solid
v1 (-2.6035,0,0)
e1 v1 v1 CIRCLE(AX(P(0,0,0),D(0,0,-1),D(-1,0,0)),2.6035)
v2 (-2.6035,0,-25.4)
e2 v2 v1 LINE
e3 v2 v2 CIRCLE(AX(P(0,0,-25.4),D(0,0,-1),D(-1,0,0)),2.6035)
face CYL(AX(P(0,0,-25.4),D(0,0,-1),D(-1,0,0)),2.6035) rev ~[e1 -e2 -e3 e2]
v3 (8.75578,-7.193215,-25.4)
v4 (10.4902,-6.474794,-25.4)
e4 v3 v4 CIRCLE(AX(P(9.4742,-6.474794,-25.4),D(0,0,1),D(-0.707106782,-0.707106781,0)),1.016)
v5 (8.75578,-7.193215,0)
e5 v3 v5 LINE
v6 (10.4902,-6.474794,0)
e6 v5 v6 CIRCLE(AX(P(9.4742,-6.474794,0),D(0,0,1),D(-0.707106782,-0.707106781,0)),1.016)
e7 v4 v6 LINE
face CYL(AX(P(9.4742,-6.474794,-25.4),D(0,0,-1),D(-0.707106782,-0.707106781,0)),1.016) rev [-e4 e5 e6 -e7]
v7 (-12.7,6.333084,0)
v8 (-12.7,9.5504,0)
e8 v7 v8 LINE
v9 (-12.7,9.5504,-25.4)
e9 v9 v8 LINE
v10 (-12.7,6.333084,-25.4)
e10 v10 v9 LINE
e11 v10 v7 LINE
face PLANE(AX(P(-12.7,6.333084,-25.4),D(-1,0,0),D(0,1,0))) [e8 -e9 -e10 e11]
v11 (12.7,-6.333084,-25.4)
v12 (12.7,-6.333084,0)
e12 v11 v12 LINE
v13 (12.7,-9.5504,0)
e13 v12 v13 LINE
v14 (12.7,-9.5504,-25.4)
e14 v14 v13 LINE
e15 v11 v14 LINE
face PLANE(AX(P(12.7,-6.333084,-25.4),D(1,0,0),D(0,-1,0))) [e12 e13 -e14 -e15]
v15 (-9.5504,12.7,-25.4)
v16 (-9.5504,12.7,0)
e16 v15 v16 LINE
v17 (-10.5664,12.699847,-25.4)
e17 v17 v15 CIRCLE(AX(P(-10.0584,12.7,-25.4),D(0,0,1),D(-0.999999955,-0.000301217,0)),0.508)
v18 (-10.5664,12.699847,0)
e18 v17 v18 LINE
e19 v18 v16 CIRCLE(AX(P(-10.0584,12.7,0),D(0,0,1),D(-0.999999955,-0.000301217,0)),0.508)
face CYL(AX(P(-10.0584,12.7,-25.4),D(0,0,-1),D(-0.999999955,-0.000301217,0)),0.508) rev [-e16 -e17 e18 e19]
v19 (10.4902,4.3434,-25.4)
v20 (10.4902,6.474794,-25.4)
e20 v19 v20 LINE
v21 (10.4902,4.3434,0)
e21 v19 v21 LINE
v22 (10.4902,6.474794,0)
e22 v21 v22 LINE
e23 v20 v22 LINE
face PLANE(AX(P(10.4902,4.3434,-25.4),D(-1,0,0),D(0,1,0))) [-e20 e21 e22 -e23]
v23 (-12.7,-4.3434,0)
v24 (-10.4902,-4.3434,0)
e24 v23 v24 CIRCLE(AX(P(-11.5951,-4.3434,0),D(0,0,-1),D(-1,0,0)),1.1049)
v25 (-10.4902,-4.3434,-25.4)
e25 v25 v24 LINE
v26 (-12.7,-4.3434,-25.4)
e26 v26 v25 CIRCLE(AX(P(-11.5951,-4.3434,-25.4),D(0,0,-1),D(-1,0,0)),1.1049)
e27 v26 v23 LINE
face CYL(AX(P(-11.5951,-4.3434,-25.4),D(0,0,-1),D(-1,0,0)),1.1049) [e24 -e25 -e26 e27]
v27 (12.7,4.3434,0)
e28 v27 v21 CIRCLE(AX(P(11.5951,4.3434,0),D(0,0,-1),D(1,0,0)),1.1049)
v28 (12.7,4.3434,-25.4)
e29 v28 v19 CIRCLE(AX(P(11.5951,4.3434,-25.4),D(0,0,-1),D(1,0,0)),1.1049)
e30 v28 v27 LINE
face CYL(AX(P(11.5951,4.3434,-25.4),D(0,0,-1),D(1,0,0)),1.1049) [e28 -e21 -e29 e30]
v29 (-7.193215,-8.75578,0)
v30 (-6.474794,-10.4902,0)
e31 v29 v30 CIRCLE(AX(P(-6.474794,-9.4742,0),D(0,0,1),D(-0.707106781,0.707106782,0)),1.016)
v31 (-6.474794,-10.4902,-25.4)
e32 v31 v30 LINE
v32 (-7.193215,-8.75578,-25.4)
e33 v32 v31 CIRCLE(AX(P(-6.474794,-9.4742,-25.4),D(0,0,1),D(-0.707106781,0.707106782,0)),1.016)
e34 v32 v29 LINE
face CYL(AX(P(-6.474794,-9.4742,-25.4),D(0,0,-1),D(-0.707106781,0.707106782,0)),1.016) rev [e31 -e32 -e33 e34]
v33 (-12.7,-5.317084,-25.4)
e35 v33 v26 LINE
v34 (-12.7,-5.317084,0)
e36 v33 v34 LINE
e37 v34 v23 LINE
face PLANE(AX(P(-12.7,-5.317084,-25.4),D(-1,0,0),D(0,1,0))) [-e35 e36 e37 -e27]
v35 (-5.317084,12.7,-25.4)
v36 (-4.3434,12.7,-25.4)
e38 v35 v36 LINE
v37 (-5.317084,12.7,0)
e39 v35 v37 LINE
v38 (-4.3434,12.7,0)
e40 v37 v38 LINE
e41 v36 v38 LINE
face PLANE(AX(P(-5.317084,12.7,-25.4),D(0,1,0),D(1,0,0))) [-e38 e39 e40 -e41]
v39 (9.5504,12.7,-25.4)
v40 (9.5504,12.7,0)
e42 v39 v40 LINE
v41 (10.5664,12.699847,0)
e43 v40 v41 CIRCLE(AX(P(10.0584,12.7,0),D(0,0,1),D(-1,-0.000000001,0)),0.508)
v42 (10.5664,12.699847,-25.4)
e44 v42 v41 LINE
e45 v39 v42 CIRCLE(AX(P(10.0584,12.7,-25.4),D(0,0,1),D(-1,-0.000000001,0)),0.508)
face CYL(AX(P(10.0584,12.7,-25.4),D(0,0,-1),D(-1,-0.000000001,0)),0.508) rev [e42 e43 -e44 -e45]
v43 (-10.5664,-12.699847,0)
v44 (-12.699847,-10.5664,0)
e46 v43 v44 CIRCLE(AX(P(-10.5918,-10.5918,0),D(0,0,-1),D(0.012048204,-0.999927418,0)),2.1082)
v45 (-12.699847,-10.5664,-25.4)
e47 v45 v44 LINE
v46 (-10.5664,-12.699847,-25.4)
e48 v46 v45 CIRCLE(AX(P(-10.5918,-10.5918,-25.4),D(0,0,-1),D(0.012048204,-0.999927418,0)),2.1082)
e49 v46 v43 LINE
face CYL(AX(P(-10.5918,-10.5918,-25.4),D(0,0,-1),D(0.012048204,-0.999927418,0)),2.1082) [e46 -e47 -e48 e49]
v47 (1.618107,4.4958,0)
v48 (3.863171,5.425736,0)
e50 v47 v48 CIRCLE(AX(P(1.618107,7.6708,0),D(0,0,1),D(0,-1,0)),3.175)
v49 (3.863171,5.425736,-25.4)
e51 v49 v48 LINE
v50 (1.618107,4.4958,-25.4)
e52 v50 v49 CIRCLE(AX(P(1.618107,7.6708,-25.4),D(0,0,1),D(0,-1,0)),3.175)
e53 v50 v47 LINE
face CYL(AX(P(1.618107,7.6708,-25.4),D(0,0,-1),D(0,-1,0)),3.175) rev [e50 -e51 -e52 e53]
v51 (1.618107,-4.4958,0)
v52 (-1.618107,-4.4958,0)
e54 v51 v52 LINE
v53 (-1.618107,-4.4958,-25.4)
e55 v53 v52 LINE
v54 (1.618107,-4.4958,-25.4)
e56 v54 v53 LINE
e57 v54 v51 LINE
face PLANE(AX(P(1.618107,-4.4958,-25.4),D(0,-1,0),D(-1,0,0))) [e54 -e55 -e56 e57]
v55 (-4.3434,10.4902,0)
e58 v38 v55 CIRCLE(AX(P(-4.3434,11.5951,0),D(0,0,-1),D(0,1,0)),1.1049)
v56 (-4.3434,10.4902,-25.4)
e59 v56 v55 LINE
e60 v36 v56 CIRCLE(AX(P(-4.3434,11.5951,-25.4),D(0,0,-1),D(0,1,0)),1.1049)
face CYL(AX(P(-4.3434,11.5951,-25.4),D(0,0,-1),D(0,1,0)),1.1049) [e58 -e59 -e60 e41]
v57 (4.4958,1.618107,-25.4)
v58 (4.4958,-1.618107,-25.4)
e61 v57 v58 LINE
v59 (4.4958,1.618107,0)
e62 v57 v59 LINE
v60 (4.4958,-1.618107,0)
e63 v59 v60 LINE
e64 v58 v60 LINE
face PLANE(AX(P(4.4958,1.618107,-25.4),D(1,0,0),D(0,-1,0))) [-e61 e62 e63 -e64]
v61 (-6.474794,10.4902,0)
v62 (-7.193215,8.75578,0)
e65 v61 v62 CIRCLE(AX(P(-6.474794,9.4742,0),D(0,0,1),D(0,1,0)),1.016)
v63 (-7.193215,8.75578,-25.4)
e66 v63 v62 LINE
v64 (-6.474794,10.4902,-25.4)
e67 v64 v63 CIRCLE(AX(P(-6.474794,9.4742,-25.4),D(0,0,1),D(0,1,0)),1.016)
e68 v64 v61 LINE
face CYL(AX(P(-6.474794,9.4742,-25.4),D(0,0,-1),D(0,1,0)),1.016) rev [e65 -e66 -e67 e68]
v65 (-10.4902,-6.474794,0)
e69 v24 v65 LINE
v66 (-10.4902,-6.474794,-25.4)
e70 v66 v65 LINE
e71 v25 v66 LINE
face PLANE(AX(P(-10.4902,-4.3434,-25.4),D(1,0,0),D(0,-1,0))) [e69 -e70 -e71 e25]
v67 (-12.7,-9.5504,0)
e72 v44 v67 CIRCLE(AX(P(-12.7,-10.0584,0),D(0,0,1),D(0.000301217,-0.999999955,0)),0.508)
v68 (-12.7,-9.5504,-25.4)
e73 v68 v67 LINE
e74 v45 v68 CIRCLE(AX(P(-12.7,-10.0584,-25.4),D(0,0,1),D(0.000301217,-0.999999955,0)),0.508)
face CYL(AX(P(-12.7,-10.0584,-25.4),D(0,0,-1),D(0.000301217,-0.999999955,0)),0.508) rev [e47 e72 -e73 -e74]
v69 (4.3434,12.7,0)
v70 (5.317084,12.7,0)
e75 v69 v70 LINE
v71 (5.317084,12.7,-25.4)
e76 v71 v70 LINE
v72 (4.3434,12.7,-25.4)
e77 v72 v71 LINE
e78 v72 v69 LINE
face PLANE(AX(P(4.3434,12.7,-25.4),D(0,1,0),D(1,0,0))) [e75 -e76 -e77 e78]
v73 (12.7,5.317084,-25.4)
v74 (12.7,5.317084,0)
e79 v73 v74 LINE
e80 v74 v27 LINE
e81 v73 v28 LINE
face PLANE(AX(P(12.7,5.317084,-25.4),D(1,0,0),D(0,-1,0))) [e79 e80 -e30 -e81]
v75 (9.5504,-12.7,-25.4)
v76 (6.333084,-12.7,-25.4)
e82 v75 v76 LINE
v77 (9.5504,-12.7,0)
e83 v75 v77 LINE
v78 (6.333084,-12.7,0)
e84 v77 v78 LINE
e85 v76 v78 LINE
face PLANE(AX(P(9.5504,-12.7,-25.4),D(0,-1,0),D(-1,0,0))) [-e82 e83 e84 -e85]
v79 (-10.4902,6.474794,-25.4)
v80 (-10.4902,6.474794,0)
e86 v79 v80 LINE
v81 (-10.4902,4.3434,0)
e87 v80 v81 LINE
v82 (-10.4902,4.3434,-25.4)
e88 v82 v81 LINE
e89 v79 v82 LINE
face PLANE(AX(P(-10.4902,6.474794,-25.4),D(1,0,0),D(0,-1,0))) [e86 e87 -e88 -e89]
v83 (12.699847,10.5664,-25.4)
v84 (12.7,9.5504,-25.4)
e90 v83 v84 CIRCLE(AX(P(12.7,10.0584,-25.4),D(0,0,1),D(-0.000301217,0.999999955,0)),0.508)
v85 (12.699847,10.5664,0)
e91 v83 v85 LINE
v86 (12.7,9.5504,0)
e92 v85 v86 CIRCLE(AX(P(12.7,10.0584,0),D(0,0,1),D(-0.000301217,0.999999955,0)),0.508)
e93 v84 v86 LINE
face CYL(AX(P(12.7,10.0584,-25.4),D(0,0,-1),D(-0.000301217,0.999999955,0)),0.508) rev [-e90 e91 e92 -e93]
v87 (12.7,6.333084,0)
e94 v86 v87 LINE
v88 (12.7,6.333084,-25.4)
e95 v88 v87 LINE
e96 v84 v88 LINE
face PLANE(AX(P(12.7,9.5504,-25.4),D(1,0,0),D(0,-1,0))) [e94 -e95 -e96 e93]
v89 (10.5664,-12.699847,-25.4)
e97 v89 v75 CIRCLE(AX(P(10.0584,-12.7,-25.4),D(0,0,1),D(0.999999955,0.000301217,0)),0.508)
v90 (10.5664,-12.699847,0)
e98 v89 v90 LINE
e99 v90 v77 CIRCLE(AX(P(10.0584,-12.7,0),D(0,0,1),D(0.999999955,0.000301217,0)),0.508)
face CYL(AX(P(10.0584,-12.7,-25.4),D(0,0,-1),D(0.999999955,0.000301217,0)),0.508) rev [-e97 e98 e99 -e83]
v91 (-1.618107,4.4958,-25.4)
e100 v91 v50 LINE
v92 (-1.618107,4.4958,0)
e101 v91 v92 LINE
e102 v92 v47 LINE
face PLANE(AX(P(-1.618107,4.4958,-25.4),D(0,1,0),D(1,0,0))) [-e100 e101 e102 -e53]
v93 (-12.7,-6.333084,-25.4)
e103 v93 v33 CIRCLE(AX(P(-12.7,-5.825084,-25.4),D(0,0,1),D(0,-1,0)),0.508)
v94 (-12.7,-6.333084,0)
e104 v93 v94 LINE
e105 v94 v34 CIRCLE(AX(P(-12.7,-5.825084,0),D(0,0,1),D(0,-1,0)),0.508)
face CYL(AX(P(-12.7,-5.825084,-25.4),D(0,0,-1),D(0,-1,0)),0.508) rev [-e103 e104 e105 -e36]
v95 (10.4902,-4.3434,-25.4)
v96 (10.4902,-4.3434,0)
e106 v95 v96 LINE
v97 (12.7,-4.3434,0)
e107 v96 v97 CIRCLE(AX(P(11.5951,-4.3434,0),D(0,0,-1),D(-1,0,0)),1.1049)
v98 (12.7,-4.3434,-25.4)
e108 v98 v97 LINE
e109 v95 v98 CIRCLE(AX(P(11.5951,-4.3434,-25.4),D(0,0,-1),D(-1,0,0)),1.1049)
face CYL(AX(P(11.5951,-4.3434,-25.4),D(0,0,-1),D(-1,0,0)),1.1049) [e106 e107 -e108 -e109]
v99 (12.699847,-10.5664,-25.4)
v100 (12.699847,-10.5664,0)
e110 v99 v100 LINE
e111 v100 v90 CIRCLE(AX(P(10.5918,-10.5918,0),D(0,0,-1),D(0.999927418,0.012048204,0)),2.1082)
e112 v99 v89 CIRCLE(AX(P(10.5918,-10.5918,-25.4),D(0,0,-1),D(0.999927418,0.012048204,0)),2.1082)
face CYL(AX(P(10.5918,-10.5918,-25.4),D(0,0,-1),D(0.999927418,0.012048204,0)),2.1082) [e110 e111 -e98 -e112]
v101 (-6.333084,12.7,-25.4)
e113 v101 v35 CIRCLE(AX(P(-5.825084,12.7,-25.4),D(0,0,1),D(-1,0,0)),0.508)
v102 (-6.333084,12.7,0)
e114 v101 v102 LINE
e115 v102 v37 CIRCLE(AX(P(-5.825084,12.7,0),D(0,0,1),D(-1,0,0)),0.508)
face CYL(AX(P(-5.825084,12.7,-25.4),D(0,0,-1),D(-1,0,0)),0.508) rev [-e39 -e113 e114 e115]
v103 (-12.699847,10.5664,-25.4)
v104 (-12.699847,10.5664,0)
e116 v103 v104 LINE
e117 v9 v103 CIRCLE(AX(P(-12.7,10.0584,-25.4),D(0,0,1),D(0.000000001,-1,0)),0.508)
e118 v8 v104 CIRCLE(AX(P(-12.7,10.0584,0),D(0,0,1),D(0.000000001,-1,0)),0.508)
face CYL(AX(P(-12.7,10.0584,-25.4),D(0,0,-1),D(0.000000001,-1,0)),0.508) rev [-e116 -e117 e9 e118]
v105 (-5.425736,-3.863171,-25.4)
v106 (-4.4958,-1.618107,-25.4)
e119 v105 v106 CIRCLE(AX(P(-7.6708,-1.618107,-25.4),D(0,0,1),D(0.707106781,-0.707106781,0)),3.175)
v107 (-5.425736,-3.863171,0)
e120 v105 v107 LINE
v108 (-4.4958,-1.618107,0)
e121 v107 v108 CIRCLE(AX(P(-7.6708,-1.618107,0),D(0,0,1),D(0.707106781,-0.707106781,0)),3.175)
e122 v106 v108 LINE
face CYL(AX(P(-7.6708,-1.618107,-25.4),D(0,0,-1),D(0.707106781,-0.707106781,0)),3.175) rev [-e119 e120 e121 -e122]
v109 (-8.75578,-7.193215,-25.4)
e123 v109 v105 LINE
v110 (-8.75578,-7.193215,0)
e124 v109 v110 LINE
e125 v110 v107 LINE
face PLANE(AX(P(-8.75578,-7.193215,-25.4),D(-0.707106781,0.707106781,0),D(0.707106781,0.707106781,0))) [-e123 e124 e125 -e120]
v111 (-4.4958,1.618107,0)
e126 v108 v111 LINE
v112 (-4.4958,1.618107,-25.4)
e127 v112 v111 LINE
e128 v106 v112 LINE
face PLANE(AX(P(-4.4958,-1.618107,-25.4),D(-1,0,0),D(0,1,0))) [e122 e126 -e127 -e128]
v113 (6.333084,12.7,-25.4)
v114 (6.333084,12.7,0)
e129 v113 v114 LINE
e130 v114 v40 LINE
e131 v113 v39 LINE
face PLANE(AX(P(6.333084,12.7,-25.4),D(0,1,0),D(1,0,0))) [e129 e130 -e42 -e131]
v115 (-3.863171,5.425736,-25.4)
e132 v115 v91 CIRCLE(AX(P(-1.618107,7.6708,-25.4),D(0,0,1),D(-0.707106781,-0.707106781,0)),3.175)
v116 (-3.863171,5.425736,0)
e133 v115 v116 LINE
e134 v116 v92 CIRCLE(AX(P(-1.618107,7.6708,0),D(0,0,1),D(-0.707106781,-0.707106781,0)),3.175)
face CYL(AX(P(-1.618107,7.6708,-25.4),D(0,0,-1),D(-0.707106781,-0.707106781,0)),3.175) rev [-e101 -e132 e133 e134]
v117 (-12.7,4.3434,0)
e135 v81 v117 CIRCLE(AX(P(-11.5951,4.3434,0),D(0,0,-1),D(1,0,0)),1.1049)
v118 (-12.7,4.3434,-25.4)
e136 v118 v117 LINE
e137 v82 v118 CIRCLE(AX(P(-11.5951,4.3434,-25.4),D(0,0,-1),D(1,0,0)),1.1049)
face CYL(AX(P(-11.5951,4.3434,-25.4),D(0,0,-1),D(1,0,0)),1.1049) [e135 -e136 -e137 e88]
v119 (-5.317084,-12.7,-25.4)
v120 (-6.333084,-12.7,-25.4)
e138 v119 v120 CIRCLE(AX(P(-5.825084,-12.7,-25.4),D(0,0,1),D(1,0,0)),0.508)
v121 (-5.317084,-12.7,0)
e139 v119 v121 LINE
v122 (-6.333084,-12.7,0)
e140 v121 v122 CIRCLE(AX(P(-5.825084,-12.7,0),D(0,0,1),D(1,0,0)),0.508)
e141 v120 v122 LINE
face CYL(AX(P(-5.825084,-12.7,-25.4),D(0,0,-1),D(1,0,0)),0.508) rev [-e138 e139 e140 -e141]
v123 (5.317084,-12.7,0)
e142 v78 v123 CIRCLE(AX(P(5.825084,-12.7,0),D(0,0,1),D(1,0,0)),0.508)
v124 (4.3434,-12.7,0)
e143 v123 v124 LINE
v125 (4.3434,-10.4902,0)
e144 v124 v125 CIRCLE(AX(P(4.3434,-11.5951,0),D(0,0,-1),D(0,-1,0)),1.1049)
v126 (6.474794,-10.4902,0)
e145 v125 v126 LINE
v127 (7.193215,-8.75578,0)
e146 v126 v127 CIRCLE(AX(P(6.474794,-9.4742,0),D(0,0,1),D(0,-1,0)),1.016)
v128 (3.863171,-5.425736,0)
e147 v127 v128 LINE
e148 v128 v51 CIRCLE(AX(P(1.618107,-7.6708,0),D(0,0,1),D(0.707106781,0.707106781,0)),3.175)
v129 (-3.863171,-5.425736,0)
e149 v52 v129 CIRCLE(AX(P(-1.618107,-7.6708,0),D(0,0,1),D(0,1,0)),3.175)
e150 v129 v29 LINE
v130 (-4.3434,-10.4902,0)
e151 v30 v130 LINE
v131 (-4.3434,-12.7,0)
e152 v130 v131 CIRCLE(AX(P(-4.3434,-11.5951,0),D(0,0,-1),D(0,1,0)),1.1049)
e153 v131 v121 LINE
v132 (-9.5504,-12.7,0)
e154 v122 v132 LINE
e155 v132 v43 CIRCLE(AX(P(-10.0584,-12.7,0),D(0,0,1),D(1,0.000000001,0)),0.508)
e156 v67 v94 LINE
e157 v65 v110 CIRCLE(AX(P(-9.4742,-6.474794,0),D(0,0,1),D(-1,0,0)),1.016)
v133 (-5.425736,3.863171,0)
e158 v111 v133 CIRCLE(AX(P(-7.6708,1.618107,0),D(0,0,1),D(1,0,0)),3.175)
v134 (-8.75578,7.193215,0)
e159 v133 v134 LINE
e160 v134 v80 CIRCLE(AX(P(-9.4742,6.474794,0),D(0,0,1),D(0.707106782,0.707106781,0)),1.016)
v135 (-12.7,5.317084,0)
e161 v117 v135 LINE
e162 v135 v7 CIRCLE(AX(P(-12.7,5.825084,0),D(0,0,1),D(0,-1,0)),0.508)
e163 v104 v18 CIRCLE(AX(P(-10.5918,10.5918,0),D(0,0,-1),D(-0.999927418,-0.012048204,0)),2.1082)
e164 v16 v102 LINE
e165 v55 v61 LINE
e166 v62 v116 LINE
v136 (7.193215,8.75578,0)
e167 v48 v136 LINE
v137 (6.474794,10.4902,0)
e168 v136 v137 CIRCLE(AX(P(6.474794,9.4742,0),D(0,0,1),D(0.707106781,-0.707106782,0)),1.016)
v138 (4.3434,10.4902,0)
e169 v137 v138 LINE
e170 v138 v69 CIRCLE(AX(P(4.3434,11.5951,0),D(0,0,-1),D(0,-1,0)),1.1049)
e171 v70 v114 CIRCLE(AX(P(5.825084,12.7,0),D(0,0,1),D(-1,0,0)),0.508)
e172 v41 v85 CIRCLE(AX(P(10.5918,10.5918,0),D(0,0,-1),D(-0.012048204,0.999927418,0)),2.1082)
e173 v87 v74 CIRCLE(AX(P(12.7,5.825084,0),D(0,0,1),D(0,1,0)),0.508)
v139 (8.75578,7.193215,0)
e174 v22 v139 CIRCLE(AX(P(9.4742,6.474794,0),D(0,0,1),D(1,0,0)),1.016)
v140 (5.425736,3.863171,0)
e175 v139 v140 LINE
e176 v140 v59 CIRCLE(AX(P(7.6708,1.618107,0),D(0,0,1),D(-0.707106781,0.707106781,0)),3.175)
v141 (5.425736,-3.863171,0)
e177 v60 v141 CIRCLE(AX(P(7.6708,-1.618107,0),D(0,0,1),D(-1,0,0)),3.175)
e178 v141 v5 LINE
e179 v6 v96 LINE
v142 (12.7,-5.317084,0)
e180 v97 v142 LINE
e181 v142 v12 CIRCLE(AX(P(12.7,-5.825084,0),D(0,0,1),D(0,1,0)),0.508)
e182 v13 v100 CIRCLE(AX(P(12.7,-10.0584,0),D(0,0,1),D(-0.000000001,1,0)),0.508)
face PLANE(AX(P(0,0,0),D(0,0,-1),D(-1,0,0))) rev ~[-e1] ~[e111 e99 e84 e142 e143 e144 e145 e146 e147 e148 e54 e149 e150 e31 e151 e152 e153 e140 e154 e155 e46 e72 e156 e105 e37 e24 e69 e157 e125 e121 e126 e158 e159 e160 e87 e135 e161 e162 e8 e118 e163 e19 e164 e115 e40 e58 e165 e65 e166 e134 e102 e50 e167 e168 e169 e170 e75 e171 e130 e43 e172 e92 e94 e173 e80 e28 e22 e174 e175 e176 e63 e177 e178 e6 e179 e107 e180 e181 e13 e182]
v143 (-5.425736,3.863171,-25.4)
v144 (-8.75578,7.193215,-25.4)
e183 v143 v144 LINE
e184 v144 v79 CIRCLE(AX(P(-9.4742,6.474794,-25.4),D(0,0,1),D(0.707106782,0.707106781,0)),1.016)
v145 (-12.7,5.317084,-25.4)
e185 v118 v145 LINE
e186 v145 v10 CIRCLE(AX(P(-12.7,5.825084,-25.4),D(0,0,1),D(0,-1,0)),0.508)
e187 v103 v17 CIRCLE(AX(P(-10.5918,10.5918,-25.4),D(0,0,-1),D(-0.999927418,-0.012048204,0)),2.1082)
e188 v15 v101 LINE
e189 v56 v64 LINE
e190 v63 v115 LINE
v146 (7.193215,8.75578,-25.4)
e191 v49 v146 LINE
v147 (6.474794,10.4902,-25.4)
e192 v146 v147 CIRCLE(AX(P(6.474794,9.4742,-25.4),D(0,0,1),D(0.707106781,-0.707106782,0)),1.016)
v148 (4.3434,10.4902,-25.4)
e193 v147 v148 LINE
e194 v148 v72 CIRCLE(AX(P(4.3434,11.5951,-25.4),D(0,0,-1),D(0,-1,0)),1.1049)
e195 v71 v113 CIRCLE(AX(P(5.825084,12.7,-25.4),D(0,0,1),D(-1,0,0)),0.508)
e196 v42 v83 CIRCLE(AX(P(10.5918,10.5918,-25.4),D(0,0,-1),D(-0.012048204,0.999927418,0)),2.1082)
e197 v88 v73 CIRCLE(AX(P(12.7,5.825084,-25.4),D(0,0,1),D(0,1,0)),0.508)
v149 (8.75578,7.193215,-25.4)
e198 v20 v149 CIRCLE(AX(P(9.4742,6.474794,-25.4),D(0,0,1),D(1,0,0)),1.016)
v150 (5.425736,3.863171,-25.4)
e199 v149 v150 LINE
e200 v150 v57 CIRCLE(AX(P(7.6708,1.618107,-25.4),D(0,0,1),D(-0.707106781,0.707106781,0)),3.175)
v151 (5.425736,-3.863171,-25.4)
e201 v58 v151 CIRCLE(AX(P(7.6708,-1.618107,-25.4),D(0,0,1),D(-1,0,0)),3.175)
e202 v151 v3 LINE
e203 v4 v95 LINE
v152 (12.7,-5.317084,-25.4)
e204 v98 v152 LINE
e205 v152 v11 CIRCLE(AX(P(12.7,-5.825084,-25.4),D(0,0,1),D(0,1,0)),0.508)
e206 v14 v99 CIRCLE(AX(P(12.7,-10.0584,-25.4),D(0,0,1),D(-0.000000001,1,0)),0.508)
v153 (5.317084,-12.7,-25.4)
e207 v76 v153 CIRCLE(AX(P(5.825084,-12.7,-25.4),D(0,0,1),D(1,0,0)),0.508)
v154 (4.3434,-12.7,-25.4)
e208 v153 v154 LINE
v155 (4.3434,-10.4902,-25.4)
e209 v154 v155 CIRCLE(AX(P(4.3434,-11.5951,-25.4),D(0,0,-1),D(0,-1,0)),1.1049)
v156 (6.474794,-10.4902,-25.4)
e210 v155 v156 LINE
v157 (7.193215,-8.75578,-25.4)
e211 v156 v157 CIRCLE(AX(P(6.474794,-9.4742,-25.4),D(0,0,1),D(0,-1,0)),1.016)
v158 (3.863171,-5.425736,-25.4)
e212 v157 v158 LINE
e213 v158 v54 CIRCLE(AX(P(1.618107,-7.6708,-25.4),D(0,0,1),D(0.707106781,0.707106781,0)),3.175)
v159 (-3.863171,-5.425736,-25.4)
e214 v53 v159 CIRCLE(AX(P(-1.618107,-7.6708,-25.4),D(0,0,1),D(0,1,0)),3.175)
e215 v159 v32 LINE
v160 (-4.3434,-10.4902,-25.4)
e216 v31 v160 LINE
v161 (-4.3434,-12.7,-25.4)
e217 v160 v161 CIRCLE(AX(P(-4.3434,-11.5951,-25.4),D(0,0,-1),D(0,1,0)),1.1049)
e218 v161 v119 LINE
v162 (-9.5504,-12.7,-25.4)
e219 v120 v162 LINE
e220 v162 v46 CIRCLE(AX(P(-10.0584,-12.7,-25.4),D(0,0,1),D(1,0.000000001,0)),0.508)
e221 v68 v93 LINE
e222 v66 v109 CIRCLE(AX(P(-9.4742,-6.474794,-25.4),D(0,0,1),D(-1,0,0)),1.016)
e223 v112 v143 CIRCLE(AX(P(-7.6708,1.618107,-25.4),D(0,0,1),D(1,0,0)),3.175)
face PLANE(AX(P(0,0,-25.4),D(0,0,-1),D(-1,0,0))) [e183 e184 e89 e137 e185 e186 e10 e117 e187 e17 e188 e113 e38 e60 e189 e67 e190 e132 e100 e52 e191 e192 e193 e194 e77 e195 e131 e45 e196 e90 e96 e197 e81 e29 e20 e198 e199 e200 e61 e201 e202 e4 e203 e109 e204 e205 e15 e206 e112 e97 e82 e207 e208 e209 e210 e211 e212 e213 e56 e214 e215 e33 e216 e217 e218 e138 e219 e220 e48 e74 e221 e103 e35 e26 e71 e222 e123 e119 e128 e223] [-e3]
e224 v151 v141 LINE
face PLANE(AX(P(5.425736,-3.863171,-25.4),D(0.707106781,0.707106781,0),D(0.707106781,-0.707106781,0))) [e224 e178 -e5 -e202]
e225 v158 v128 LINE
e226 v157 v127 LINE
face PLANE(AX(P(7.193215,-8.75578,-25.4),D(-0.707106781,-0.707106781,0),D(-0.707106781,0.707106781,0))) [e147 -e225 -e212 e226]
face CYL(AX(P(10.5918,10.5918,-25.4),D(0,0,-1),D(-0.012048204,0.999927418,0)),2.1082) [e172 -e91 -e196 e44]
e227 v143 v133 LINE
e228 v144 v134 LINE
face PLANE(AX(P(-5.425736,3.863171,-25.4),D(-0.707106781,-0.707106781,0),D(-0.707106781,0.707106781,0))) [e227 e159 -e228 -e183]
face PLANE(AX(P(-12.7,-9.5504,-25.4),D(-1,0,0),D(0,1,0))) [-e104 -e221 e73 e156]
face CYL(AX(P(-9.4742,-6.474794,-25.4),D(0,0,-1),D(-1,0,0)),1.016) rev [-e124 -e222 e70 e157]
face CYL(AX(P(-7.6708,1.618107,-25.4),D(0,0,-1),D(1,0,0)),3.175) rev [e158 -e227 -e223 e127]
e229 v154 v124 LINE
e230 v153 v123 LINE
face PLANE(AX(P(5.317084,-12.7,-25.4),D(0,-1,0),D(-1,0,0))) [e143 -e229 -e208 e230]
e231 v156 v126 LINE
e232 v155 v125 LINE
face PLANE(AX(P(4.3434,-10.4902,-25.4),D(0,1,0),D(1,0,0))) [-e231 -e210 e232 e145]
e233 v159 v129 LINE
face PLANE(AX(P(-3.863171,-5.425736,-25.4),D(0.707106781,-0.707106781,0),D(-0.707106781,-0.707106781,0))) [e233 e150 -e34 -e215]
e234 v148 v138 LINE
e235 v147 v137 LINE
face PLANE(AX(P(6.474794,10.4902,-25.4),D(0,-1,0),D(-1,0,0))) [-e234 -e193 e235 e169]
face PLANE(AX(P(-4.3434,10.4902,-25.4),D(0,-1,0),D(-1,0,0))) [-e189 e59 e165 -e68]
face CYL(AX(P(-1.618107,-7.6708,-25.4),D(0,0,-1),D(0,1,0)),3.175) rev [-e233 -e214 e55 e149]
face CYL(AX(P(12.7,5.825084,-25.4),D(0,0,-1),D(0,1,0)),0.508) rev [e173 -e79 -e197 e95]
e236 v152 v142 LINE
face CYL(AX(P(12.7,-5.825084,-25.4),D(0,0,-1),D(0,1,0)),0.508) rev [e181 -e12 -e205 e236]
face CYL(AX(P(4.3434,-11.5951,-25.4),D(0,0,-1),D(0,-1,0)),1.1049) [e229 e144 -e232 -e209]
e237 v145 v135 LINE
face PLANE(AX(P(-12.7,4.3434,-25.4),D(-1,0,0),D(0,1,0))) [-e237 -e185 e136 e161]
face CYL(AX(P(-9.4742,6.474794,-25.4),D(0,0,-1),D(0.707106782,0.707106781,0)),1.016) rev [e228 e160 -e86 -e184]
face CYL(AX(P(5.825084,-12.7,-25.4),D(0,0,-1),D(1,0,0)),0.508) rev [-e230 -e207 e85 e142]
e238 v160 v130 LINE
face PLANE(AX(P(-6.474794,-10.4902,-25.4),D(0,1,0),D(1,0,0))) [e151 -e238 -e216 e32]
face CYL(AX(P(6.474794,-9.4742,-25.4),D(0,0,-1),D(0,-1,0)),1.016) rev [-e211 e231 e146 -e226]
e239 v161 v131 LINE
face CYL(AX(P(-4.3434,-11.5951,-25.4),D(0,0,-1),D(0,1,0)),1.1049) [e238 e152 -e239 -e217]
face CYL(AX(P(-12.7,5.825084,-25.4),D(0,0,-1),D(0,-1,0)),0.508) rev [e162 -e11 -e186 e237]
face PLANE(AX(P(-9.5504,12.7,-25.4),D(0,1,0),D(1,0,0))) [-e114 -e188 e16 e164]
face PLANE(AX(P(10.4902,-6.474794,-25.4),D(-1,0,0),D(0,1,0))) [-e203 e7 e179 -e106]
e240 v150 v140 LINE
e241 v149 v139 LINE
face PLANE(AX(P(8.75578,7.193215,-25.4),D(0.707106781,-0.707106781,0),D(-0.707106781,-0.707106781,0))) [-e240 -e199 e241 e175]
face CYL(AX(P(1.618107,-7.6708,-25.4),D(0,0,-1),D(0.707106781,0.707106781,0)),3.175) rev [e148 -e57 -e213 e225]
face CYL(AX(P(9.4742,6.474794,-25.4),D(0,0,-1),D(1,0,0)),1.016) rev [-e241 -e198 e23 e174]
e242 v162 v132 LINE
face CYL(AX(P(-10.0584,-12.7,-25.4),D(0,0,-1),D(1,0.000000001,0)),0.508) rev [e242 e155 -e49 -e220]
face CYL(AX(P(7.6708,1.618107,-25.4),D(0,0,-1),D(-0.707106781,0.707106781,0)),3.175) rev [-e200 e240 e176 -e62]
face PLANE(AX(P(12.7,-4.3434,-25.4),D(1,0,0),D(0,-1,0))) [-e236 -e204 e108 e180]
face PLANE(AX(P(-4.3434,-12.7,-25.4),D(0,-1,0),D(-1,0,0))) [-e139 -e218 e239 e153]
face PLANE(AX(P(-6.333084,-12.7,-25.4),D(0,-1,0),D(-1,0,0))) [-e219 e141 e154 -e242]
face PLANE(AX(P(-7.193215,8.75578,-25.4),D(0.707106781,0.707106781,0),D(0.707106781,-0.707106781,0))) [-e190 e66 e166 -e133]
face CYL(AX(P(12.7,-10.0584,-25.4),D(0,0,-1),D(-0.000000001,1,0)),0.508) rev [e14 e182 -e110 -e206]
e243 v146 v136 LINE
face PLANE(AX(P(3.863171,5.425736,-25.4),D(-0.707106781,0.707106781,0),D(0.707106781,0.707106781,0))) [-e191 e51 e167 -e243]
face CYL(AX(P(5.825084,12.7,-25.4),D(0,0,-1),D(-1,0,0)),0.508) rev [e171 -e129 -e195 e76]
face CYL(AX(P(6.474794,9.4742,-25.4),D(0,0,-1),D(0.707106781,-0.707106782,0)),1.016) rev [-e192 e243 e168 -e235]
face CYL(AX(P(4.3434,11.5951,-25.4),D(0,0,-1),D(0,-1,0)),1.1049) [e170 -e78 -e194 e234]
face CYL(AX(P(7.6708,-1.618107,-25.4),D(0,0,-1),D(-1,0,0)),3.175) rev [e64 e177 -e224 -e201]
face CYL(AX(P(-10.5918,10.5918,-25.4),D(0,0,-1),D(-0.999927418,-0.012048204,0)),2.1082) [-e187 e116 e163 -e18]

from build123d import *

# Parameters (mm, degrees)
SKETCH1_R           = 2.6035
BOSS_EXTRUDE1_DEPTH = 25.4


with BuildPart() as part:
    # Sketch1 → Boss-Extrude1 (new body)
    with BuildSketch(Plane(origin=(0, 0, -25.4), x_dir=(-1, 0, 0), z_dir=(0, 0, -1))):
        with BuildLine():
            Line((12.7, -9.5504), (12.7, -6.3330836))
            ThreePointArc((12.7, -6.3330836), (12.192, -5.8250836), (12.7, -5.3170836))
            Line((12.7, -5.3170836), (12.7, -4.3434))
            ThreePointArc((12.7, -4.3434), (11.5951, -3.2385), (10.4902, -4.3434))
            Line((10.4902, -4.3434), (10.4902, -6.474794456))
            ThreePointArc((10.4902, -6.474794456), (9.863006367, -7.413456061), (8.75577951, -7.193214945))
            Line((8.75577951, -7.193214945), (5.42573597, -3.863171405))
            ThreePointArc((5.42573597, -3.863171405), (4.737482484, -2.833127272), (4.4958, -1.618107374))
            Line((4.4958, -1.618107374), (4.4958, 1.618107374))
            ThreePointArc((4.4958, 1.618107374), (4.737482484, 2.833127272), (5.42573597, 3.863171405))
            Line((5.42573597, 3.863171405), (8.75577951, 7.193214945))
            ThreePointArc((8.75577951, 7.193214945), (9.863006367, 7.413456061), (10.4902, 6.474794456))
            Line((10.4902, 6.474794456), (10.4902, 4.343399971))
            ThreePointArc((10.4902, 4.343399971), (11.5951, 3.238499971), (12.7, 4.343399971))
            Line((12.7, 4.343399971), (12.7, 5.3170836))
            ThreePointArc((12.7, 5.3170836), (12.192, 5.8250836), (12.7, 6.3330836))
            Line((12.7, 6.3330836), (12.7, 9.5504))
            ThreePointArc((12.7, 9.5504), (12.192000006, 10.058323491), (12.699846982, 10.566399977))
            ThreePointArc((12.699846982, 10.566399977), (12.082522516, 12.082522516), (10.566399977, 12.699846982))
            ThreePointArc((10.566399977, 12.699846982), (10.058323491, 12.192000006), (9.5504, 12.7))
            Line((9.5504, 12.7), (6.3330836, 12.7))
            ThreePointArc((6.3330836, 12.7), (5.8250836, 12.192), (5.3170836, 12.7))
            Line((5.3170836, 12.7), (4.3434, 12.7))
            ThreePointArc((4.3434, 12.7), (3.2385, 11.5951), (4.3434, 10.4902))
            Line((4.3434, 10.4902), (6.474794456, 10.4902))
            ThreePointArc((6.474794456, 10.4902), (7.413456061, 9.863006367), (7.193214945, 8.75577951))
            Line((7.193214945, 8.75577951), (3.863171405, 5.42573597))
            ThreePointArc((3.863171405, 5.42573597), (2.833127272, 4.737482484), (1.618107374, 4.4958))
            Line((1.618107374, 4.4958), (-1.618107374, 4.4958))
            ThreePointArc((-1.618107374, 4.4958), (-2.833127272, 4.737482484), (-3.863171405, 5.42573597))
            Line((-3.863171405, 5.42573597), (-7.193214945, 8.75577951))
            ThreePointArc((-7.193214945, 8.75577951), (-7.413456061, 9.863006367), (-6.474794456, 10.4902))
            Line((-6.474794456, 10.4902), (-4.343399971, 10.4902))
            ThreePointArc((-4.343399971, 10.4902), (-3.238499971, 11.5951), (-4.343399971, 12.7))
            Line((-4.343399971, 12.7), (-5.3170836, 12.7))
            ThreePointArc((-5.3170836, 12.7), (-5.8250836, 12.192), (-6.3330836, 12.7))
            Line((-6.3330836, 12.7), (-9.5504, 12.7))
            ThreePointArc((-9.5504, 12.7), (-10.058323491, 12.192000006), (-10.566399977, 12.699846982))
            ThreePointArc((-10.566399977, 12.699846982), (-12.082522516, 12.082522516), (-12.699846982, 10.566399977))
            ThreePointArc((-12.699846982, 10.566399977), (-12.192000006, 10.058323491), (-12.7, 9.5504))
            Line((-12.7, 9.5504), (-12.7, 6.3330836))
            ThreePointArc((-12.7, 6.3330836), (-12.192, 5.8250836), (-12.7, 5.3170836))
            Line((-12.7, 5.3170836), (-12.7, 4.3434))
            ThreePointArc((-12.7, 4.3434), (-11.5951, 3.2385), (-10.4902, 4.3434))
            Line((-10.4902, 4.3434), (-10.4902, 6.474794456))
            ThreePointArc((-10.4902, 6.474794456), (-9.863006367, 7.413456061), (-8.75577951, 7.193214945))
            Line((-8.75577951, 7.193214945), (-5.42573597, 3.863171405))
            ThreePointArc((-5.42573597, 3.863171405), (-4.737482484, 2.833127272), (-4.4958, 1.618107374))
            Line((-4.4958, 1.618107374), (-4.4958, -1.618107374))
            ThreePointArc((-4.4958, -1.618107374), (-4.737482484, -2.833127272), (-5.42573597, -3.863171405))
            Line((-5.42573597, -3.863171405), (-8.75577951, -7.193214945))
            ThreePointArc((-8.75577951, -7.193214945), (-9.863006367, -7.413456061), (-10.4902, -6.474794456))
            Line((-10.4902, -6.474794456), (-10.4902, -4.343399971))
            ThreePointArc((-10.4902, -4.343399971), (-11.5951, -3.238499971), (-12.7, -4.343399971))
            Line((-12.7, -4.343399971), (-12.7, -5.3170836))
            ThreePointArc((-12.7, -5.3170836), (-12.192, -5.8250836), (-12.7, -6.3330836))
            Line((-12.7, -6.3330836), (-12.7, -9.5504))
            ThreePointArc((-12.7, -9.5504), (-12.192000006, -10.058323491), (-12.699846982, -10.566399977))
            ThreePointArc((-12.699846982, -10.566399977), (-12.082522516, -12.082522516), (-10.566399977, -12.699846982))
            ThreePointArc((-10.566399977, -12.699846982), (-10.058323491, -12.192000006), (-9.5504, -12.7))
            Line((-9.5504, -12.7), (-6.3330836, -12.7))
            ThreePointArc((-6.3330836, -12.7), (-5.8250836, -12.192), (-5.3170836, -12.7))
            Line((-5.3170836, -12.7), (-4.3434, -12.7))
            ThreePointArc((-4.3434, -12.7), (-3.2385, -11.5951), (-4.3434, -10.4902))
            Line((-4.3434, -10.4902), (-6.474794456, -10.4902))
            ThreePointArc((-6.474794456, -10.4902), (-7.413456061, -9.863006367), (-7.193214945, -8.75577951))
            Line((-7.193214945, -8.75577951), (-3.863171405, -5.42573597))
            ThreePointArc((-3.863171405, -5.42573597), (-2.833127272, -4.737482484), (-1.618107374, -4.4958))
            Line((-1.618107374, -4.4958), (1.618107374, -4.4958))
            ThreePointArc((1.618107374, -4.4958), (2.833127272, -4.737482484), (3.863171405, -5.42573597))
            Line((3.863171405, -5.42573597), (7.193214945, -8.75577951))
            ThreePointArc((7.193214945, -8.75577951), (7.413456061, -9.863006367), (6.474794456, -10.4902))
            Line((6.474794456, -10.4902), (4.343399971, -10.4902))
            ThreePointArc((4.343399971, -10.4902), (3.238499971, -11.5951), (4.343399971, -12.7))
            Line((4.343399971, -12.7), (5.3170836, -12.7))
            ThreePointArc((5.3170836, -12.7), (5.8250836, -12.192), (6.3330836, -12.7))
            Line((6.3330836, -12.7), (9.5504, -12.7))
            ThreePointArc((9.5504, -12.7), (10.058323491, -12.192000006), (10.566399977, -12.699846982))
            ThreePointArc((10.566399977, -12.699846982), (12.082522516, -12.082522516), (12.699846982, -10.566399977))
            ThreePointArc((12.699846982, -10.566399977), (12.192000006, -10.058323491), (12.7, -9.5504))
        make_face()
        Circle(SKETCH1_R, mode=Mode.SUBTRACT)
    extrude(amount=-BOSS_EXTRUDE1_DEPTH)


solid = part.part
